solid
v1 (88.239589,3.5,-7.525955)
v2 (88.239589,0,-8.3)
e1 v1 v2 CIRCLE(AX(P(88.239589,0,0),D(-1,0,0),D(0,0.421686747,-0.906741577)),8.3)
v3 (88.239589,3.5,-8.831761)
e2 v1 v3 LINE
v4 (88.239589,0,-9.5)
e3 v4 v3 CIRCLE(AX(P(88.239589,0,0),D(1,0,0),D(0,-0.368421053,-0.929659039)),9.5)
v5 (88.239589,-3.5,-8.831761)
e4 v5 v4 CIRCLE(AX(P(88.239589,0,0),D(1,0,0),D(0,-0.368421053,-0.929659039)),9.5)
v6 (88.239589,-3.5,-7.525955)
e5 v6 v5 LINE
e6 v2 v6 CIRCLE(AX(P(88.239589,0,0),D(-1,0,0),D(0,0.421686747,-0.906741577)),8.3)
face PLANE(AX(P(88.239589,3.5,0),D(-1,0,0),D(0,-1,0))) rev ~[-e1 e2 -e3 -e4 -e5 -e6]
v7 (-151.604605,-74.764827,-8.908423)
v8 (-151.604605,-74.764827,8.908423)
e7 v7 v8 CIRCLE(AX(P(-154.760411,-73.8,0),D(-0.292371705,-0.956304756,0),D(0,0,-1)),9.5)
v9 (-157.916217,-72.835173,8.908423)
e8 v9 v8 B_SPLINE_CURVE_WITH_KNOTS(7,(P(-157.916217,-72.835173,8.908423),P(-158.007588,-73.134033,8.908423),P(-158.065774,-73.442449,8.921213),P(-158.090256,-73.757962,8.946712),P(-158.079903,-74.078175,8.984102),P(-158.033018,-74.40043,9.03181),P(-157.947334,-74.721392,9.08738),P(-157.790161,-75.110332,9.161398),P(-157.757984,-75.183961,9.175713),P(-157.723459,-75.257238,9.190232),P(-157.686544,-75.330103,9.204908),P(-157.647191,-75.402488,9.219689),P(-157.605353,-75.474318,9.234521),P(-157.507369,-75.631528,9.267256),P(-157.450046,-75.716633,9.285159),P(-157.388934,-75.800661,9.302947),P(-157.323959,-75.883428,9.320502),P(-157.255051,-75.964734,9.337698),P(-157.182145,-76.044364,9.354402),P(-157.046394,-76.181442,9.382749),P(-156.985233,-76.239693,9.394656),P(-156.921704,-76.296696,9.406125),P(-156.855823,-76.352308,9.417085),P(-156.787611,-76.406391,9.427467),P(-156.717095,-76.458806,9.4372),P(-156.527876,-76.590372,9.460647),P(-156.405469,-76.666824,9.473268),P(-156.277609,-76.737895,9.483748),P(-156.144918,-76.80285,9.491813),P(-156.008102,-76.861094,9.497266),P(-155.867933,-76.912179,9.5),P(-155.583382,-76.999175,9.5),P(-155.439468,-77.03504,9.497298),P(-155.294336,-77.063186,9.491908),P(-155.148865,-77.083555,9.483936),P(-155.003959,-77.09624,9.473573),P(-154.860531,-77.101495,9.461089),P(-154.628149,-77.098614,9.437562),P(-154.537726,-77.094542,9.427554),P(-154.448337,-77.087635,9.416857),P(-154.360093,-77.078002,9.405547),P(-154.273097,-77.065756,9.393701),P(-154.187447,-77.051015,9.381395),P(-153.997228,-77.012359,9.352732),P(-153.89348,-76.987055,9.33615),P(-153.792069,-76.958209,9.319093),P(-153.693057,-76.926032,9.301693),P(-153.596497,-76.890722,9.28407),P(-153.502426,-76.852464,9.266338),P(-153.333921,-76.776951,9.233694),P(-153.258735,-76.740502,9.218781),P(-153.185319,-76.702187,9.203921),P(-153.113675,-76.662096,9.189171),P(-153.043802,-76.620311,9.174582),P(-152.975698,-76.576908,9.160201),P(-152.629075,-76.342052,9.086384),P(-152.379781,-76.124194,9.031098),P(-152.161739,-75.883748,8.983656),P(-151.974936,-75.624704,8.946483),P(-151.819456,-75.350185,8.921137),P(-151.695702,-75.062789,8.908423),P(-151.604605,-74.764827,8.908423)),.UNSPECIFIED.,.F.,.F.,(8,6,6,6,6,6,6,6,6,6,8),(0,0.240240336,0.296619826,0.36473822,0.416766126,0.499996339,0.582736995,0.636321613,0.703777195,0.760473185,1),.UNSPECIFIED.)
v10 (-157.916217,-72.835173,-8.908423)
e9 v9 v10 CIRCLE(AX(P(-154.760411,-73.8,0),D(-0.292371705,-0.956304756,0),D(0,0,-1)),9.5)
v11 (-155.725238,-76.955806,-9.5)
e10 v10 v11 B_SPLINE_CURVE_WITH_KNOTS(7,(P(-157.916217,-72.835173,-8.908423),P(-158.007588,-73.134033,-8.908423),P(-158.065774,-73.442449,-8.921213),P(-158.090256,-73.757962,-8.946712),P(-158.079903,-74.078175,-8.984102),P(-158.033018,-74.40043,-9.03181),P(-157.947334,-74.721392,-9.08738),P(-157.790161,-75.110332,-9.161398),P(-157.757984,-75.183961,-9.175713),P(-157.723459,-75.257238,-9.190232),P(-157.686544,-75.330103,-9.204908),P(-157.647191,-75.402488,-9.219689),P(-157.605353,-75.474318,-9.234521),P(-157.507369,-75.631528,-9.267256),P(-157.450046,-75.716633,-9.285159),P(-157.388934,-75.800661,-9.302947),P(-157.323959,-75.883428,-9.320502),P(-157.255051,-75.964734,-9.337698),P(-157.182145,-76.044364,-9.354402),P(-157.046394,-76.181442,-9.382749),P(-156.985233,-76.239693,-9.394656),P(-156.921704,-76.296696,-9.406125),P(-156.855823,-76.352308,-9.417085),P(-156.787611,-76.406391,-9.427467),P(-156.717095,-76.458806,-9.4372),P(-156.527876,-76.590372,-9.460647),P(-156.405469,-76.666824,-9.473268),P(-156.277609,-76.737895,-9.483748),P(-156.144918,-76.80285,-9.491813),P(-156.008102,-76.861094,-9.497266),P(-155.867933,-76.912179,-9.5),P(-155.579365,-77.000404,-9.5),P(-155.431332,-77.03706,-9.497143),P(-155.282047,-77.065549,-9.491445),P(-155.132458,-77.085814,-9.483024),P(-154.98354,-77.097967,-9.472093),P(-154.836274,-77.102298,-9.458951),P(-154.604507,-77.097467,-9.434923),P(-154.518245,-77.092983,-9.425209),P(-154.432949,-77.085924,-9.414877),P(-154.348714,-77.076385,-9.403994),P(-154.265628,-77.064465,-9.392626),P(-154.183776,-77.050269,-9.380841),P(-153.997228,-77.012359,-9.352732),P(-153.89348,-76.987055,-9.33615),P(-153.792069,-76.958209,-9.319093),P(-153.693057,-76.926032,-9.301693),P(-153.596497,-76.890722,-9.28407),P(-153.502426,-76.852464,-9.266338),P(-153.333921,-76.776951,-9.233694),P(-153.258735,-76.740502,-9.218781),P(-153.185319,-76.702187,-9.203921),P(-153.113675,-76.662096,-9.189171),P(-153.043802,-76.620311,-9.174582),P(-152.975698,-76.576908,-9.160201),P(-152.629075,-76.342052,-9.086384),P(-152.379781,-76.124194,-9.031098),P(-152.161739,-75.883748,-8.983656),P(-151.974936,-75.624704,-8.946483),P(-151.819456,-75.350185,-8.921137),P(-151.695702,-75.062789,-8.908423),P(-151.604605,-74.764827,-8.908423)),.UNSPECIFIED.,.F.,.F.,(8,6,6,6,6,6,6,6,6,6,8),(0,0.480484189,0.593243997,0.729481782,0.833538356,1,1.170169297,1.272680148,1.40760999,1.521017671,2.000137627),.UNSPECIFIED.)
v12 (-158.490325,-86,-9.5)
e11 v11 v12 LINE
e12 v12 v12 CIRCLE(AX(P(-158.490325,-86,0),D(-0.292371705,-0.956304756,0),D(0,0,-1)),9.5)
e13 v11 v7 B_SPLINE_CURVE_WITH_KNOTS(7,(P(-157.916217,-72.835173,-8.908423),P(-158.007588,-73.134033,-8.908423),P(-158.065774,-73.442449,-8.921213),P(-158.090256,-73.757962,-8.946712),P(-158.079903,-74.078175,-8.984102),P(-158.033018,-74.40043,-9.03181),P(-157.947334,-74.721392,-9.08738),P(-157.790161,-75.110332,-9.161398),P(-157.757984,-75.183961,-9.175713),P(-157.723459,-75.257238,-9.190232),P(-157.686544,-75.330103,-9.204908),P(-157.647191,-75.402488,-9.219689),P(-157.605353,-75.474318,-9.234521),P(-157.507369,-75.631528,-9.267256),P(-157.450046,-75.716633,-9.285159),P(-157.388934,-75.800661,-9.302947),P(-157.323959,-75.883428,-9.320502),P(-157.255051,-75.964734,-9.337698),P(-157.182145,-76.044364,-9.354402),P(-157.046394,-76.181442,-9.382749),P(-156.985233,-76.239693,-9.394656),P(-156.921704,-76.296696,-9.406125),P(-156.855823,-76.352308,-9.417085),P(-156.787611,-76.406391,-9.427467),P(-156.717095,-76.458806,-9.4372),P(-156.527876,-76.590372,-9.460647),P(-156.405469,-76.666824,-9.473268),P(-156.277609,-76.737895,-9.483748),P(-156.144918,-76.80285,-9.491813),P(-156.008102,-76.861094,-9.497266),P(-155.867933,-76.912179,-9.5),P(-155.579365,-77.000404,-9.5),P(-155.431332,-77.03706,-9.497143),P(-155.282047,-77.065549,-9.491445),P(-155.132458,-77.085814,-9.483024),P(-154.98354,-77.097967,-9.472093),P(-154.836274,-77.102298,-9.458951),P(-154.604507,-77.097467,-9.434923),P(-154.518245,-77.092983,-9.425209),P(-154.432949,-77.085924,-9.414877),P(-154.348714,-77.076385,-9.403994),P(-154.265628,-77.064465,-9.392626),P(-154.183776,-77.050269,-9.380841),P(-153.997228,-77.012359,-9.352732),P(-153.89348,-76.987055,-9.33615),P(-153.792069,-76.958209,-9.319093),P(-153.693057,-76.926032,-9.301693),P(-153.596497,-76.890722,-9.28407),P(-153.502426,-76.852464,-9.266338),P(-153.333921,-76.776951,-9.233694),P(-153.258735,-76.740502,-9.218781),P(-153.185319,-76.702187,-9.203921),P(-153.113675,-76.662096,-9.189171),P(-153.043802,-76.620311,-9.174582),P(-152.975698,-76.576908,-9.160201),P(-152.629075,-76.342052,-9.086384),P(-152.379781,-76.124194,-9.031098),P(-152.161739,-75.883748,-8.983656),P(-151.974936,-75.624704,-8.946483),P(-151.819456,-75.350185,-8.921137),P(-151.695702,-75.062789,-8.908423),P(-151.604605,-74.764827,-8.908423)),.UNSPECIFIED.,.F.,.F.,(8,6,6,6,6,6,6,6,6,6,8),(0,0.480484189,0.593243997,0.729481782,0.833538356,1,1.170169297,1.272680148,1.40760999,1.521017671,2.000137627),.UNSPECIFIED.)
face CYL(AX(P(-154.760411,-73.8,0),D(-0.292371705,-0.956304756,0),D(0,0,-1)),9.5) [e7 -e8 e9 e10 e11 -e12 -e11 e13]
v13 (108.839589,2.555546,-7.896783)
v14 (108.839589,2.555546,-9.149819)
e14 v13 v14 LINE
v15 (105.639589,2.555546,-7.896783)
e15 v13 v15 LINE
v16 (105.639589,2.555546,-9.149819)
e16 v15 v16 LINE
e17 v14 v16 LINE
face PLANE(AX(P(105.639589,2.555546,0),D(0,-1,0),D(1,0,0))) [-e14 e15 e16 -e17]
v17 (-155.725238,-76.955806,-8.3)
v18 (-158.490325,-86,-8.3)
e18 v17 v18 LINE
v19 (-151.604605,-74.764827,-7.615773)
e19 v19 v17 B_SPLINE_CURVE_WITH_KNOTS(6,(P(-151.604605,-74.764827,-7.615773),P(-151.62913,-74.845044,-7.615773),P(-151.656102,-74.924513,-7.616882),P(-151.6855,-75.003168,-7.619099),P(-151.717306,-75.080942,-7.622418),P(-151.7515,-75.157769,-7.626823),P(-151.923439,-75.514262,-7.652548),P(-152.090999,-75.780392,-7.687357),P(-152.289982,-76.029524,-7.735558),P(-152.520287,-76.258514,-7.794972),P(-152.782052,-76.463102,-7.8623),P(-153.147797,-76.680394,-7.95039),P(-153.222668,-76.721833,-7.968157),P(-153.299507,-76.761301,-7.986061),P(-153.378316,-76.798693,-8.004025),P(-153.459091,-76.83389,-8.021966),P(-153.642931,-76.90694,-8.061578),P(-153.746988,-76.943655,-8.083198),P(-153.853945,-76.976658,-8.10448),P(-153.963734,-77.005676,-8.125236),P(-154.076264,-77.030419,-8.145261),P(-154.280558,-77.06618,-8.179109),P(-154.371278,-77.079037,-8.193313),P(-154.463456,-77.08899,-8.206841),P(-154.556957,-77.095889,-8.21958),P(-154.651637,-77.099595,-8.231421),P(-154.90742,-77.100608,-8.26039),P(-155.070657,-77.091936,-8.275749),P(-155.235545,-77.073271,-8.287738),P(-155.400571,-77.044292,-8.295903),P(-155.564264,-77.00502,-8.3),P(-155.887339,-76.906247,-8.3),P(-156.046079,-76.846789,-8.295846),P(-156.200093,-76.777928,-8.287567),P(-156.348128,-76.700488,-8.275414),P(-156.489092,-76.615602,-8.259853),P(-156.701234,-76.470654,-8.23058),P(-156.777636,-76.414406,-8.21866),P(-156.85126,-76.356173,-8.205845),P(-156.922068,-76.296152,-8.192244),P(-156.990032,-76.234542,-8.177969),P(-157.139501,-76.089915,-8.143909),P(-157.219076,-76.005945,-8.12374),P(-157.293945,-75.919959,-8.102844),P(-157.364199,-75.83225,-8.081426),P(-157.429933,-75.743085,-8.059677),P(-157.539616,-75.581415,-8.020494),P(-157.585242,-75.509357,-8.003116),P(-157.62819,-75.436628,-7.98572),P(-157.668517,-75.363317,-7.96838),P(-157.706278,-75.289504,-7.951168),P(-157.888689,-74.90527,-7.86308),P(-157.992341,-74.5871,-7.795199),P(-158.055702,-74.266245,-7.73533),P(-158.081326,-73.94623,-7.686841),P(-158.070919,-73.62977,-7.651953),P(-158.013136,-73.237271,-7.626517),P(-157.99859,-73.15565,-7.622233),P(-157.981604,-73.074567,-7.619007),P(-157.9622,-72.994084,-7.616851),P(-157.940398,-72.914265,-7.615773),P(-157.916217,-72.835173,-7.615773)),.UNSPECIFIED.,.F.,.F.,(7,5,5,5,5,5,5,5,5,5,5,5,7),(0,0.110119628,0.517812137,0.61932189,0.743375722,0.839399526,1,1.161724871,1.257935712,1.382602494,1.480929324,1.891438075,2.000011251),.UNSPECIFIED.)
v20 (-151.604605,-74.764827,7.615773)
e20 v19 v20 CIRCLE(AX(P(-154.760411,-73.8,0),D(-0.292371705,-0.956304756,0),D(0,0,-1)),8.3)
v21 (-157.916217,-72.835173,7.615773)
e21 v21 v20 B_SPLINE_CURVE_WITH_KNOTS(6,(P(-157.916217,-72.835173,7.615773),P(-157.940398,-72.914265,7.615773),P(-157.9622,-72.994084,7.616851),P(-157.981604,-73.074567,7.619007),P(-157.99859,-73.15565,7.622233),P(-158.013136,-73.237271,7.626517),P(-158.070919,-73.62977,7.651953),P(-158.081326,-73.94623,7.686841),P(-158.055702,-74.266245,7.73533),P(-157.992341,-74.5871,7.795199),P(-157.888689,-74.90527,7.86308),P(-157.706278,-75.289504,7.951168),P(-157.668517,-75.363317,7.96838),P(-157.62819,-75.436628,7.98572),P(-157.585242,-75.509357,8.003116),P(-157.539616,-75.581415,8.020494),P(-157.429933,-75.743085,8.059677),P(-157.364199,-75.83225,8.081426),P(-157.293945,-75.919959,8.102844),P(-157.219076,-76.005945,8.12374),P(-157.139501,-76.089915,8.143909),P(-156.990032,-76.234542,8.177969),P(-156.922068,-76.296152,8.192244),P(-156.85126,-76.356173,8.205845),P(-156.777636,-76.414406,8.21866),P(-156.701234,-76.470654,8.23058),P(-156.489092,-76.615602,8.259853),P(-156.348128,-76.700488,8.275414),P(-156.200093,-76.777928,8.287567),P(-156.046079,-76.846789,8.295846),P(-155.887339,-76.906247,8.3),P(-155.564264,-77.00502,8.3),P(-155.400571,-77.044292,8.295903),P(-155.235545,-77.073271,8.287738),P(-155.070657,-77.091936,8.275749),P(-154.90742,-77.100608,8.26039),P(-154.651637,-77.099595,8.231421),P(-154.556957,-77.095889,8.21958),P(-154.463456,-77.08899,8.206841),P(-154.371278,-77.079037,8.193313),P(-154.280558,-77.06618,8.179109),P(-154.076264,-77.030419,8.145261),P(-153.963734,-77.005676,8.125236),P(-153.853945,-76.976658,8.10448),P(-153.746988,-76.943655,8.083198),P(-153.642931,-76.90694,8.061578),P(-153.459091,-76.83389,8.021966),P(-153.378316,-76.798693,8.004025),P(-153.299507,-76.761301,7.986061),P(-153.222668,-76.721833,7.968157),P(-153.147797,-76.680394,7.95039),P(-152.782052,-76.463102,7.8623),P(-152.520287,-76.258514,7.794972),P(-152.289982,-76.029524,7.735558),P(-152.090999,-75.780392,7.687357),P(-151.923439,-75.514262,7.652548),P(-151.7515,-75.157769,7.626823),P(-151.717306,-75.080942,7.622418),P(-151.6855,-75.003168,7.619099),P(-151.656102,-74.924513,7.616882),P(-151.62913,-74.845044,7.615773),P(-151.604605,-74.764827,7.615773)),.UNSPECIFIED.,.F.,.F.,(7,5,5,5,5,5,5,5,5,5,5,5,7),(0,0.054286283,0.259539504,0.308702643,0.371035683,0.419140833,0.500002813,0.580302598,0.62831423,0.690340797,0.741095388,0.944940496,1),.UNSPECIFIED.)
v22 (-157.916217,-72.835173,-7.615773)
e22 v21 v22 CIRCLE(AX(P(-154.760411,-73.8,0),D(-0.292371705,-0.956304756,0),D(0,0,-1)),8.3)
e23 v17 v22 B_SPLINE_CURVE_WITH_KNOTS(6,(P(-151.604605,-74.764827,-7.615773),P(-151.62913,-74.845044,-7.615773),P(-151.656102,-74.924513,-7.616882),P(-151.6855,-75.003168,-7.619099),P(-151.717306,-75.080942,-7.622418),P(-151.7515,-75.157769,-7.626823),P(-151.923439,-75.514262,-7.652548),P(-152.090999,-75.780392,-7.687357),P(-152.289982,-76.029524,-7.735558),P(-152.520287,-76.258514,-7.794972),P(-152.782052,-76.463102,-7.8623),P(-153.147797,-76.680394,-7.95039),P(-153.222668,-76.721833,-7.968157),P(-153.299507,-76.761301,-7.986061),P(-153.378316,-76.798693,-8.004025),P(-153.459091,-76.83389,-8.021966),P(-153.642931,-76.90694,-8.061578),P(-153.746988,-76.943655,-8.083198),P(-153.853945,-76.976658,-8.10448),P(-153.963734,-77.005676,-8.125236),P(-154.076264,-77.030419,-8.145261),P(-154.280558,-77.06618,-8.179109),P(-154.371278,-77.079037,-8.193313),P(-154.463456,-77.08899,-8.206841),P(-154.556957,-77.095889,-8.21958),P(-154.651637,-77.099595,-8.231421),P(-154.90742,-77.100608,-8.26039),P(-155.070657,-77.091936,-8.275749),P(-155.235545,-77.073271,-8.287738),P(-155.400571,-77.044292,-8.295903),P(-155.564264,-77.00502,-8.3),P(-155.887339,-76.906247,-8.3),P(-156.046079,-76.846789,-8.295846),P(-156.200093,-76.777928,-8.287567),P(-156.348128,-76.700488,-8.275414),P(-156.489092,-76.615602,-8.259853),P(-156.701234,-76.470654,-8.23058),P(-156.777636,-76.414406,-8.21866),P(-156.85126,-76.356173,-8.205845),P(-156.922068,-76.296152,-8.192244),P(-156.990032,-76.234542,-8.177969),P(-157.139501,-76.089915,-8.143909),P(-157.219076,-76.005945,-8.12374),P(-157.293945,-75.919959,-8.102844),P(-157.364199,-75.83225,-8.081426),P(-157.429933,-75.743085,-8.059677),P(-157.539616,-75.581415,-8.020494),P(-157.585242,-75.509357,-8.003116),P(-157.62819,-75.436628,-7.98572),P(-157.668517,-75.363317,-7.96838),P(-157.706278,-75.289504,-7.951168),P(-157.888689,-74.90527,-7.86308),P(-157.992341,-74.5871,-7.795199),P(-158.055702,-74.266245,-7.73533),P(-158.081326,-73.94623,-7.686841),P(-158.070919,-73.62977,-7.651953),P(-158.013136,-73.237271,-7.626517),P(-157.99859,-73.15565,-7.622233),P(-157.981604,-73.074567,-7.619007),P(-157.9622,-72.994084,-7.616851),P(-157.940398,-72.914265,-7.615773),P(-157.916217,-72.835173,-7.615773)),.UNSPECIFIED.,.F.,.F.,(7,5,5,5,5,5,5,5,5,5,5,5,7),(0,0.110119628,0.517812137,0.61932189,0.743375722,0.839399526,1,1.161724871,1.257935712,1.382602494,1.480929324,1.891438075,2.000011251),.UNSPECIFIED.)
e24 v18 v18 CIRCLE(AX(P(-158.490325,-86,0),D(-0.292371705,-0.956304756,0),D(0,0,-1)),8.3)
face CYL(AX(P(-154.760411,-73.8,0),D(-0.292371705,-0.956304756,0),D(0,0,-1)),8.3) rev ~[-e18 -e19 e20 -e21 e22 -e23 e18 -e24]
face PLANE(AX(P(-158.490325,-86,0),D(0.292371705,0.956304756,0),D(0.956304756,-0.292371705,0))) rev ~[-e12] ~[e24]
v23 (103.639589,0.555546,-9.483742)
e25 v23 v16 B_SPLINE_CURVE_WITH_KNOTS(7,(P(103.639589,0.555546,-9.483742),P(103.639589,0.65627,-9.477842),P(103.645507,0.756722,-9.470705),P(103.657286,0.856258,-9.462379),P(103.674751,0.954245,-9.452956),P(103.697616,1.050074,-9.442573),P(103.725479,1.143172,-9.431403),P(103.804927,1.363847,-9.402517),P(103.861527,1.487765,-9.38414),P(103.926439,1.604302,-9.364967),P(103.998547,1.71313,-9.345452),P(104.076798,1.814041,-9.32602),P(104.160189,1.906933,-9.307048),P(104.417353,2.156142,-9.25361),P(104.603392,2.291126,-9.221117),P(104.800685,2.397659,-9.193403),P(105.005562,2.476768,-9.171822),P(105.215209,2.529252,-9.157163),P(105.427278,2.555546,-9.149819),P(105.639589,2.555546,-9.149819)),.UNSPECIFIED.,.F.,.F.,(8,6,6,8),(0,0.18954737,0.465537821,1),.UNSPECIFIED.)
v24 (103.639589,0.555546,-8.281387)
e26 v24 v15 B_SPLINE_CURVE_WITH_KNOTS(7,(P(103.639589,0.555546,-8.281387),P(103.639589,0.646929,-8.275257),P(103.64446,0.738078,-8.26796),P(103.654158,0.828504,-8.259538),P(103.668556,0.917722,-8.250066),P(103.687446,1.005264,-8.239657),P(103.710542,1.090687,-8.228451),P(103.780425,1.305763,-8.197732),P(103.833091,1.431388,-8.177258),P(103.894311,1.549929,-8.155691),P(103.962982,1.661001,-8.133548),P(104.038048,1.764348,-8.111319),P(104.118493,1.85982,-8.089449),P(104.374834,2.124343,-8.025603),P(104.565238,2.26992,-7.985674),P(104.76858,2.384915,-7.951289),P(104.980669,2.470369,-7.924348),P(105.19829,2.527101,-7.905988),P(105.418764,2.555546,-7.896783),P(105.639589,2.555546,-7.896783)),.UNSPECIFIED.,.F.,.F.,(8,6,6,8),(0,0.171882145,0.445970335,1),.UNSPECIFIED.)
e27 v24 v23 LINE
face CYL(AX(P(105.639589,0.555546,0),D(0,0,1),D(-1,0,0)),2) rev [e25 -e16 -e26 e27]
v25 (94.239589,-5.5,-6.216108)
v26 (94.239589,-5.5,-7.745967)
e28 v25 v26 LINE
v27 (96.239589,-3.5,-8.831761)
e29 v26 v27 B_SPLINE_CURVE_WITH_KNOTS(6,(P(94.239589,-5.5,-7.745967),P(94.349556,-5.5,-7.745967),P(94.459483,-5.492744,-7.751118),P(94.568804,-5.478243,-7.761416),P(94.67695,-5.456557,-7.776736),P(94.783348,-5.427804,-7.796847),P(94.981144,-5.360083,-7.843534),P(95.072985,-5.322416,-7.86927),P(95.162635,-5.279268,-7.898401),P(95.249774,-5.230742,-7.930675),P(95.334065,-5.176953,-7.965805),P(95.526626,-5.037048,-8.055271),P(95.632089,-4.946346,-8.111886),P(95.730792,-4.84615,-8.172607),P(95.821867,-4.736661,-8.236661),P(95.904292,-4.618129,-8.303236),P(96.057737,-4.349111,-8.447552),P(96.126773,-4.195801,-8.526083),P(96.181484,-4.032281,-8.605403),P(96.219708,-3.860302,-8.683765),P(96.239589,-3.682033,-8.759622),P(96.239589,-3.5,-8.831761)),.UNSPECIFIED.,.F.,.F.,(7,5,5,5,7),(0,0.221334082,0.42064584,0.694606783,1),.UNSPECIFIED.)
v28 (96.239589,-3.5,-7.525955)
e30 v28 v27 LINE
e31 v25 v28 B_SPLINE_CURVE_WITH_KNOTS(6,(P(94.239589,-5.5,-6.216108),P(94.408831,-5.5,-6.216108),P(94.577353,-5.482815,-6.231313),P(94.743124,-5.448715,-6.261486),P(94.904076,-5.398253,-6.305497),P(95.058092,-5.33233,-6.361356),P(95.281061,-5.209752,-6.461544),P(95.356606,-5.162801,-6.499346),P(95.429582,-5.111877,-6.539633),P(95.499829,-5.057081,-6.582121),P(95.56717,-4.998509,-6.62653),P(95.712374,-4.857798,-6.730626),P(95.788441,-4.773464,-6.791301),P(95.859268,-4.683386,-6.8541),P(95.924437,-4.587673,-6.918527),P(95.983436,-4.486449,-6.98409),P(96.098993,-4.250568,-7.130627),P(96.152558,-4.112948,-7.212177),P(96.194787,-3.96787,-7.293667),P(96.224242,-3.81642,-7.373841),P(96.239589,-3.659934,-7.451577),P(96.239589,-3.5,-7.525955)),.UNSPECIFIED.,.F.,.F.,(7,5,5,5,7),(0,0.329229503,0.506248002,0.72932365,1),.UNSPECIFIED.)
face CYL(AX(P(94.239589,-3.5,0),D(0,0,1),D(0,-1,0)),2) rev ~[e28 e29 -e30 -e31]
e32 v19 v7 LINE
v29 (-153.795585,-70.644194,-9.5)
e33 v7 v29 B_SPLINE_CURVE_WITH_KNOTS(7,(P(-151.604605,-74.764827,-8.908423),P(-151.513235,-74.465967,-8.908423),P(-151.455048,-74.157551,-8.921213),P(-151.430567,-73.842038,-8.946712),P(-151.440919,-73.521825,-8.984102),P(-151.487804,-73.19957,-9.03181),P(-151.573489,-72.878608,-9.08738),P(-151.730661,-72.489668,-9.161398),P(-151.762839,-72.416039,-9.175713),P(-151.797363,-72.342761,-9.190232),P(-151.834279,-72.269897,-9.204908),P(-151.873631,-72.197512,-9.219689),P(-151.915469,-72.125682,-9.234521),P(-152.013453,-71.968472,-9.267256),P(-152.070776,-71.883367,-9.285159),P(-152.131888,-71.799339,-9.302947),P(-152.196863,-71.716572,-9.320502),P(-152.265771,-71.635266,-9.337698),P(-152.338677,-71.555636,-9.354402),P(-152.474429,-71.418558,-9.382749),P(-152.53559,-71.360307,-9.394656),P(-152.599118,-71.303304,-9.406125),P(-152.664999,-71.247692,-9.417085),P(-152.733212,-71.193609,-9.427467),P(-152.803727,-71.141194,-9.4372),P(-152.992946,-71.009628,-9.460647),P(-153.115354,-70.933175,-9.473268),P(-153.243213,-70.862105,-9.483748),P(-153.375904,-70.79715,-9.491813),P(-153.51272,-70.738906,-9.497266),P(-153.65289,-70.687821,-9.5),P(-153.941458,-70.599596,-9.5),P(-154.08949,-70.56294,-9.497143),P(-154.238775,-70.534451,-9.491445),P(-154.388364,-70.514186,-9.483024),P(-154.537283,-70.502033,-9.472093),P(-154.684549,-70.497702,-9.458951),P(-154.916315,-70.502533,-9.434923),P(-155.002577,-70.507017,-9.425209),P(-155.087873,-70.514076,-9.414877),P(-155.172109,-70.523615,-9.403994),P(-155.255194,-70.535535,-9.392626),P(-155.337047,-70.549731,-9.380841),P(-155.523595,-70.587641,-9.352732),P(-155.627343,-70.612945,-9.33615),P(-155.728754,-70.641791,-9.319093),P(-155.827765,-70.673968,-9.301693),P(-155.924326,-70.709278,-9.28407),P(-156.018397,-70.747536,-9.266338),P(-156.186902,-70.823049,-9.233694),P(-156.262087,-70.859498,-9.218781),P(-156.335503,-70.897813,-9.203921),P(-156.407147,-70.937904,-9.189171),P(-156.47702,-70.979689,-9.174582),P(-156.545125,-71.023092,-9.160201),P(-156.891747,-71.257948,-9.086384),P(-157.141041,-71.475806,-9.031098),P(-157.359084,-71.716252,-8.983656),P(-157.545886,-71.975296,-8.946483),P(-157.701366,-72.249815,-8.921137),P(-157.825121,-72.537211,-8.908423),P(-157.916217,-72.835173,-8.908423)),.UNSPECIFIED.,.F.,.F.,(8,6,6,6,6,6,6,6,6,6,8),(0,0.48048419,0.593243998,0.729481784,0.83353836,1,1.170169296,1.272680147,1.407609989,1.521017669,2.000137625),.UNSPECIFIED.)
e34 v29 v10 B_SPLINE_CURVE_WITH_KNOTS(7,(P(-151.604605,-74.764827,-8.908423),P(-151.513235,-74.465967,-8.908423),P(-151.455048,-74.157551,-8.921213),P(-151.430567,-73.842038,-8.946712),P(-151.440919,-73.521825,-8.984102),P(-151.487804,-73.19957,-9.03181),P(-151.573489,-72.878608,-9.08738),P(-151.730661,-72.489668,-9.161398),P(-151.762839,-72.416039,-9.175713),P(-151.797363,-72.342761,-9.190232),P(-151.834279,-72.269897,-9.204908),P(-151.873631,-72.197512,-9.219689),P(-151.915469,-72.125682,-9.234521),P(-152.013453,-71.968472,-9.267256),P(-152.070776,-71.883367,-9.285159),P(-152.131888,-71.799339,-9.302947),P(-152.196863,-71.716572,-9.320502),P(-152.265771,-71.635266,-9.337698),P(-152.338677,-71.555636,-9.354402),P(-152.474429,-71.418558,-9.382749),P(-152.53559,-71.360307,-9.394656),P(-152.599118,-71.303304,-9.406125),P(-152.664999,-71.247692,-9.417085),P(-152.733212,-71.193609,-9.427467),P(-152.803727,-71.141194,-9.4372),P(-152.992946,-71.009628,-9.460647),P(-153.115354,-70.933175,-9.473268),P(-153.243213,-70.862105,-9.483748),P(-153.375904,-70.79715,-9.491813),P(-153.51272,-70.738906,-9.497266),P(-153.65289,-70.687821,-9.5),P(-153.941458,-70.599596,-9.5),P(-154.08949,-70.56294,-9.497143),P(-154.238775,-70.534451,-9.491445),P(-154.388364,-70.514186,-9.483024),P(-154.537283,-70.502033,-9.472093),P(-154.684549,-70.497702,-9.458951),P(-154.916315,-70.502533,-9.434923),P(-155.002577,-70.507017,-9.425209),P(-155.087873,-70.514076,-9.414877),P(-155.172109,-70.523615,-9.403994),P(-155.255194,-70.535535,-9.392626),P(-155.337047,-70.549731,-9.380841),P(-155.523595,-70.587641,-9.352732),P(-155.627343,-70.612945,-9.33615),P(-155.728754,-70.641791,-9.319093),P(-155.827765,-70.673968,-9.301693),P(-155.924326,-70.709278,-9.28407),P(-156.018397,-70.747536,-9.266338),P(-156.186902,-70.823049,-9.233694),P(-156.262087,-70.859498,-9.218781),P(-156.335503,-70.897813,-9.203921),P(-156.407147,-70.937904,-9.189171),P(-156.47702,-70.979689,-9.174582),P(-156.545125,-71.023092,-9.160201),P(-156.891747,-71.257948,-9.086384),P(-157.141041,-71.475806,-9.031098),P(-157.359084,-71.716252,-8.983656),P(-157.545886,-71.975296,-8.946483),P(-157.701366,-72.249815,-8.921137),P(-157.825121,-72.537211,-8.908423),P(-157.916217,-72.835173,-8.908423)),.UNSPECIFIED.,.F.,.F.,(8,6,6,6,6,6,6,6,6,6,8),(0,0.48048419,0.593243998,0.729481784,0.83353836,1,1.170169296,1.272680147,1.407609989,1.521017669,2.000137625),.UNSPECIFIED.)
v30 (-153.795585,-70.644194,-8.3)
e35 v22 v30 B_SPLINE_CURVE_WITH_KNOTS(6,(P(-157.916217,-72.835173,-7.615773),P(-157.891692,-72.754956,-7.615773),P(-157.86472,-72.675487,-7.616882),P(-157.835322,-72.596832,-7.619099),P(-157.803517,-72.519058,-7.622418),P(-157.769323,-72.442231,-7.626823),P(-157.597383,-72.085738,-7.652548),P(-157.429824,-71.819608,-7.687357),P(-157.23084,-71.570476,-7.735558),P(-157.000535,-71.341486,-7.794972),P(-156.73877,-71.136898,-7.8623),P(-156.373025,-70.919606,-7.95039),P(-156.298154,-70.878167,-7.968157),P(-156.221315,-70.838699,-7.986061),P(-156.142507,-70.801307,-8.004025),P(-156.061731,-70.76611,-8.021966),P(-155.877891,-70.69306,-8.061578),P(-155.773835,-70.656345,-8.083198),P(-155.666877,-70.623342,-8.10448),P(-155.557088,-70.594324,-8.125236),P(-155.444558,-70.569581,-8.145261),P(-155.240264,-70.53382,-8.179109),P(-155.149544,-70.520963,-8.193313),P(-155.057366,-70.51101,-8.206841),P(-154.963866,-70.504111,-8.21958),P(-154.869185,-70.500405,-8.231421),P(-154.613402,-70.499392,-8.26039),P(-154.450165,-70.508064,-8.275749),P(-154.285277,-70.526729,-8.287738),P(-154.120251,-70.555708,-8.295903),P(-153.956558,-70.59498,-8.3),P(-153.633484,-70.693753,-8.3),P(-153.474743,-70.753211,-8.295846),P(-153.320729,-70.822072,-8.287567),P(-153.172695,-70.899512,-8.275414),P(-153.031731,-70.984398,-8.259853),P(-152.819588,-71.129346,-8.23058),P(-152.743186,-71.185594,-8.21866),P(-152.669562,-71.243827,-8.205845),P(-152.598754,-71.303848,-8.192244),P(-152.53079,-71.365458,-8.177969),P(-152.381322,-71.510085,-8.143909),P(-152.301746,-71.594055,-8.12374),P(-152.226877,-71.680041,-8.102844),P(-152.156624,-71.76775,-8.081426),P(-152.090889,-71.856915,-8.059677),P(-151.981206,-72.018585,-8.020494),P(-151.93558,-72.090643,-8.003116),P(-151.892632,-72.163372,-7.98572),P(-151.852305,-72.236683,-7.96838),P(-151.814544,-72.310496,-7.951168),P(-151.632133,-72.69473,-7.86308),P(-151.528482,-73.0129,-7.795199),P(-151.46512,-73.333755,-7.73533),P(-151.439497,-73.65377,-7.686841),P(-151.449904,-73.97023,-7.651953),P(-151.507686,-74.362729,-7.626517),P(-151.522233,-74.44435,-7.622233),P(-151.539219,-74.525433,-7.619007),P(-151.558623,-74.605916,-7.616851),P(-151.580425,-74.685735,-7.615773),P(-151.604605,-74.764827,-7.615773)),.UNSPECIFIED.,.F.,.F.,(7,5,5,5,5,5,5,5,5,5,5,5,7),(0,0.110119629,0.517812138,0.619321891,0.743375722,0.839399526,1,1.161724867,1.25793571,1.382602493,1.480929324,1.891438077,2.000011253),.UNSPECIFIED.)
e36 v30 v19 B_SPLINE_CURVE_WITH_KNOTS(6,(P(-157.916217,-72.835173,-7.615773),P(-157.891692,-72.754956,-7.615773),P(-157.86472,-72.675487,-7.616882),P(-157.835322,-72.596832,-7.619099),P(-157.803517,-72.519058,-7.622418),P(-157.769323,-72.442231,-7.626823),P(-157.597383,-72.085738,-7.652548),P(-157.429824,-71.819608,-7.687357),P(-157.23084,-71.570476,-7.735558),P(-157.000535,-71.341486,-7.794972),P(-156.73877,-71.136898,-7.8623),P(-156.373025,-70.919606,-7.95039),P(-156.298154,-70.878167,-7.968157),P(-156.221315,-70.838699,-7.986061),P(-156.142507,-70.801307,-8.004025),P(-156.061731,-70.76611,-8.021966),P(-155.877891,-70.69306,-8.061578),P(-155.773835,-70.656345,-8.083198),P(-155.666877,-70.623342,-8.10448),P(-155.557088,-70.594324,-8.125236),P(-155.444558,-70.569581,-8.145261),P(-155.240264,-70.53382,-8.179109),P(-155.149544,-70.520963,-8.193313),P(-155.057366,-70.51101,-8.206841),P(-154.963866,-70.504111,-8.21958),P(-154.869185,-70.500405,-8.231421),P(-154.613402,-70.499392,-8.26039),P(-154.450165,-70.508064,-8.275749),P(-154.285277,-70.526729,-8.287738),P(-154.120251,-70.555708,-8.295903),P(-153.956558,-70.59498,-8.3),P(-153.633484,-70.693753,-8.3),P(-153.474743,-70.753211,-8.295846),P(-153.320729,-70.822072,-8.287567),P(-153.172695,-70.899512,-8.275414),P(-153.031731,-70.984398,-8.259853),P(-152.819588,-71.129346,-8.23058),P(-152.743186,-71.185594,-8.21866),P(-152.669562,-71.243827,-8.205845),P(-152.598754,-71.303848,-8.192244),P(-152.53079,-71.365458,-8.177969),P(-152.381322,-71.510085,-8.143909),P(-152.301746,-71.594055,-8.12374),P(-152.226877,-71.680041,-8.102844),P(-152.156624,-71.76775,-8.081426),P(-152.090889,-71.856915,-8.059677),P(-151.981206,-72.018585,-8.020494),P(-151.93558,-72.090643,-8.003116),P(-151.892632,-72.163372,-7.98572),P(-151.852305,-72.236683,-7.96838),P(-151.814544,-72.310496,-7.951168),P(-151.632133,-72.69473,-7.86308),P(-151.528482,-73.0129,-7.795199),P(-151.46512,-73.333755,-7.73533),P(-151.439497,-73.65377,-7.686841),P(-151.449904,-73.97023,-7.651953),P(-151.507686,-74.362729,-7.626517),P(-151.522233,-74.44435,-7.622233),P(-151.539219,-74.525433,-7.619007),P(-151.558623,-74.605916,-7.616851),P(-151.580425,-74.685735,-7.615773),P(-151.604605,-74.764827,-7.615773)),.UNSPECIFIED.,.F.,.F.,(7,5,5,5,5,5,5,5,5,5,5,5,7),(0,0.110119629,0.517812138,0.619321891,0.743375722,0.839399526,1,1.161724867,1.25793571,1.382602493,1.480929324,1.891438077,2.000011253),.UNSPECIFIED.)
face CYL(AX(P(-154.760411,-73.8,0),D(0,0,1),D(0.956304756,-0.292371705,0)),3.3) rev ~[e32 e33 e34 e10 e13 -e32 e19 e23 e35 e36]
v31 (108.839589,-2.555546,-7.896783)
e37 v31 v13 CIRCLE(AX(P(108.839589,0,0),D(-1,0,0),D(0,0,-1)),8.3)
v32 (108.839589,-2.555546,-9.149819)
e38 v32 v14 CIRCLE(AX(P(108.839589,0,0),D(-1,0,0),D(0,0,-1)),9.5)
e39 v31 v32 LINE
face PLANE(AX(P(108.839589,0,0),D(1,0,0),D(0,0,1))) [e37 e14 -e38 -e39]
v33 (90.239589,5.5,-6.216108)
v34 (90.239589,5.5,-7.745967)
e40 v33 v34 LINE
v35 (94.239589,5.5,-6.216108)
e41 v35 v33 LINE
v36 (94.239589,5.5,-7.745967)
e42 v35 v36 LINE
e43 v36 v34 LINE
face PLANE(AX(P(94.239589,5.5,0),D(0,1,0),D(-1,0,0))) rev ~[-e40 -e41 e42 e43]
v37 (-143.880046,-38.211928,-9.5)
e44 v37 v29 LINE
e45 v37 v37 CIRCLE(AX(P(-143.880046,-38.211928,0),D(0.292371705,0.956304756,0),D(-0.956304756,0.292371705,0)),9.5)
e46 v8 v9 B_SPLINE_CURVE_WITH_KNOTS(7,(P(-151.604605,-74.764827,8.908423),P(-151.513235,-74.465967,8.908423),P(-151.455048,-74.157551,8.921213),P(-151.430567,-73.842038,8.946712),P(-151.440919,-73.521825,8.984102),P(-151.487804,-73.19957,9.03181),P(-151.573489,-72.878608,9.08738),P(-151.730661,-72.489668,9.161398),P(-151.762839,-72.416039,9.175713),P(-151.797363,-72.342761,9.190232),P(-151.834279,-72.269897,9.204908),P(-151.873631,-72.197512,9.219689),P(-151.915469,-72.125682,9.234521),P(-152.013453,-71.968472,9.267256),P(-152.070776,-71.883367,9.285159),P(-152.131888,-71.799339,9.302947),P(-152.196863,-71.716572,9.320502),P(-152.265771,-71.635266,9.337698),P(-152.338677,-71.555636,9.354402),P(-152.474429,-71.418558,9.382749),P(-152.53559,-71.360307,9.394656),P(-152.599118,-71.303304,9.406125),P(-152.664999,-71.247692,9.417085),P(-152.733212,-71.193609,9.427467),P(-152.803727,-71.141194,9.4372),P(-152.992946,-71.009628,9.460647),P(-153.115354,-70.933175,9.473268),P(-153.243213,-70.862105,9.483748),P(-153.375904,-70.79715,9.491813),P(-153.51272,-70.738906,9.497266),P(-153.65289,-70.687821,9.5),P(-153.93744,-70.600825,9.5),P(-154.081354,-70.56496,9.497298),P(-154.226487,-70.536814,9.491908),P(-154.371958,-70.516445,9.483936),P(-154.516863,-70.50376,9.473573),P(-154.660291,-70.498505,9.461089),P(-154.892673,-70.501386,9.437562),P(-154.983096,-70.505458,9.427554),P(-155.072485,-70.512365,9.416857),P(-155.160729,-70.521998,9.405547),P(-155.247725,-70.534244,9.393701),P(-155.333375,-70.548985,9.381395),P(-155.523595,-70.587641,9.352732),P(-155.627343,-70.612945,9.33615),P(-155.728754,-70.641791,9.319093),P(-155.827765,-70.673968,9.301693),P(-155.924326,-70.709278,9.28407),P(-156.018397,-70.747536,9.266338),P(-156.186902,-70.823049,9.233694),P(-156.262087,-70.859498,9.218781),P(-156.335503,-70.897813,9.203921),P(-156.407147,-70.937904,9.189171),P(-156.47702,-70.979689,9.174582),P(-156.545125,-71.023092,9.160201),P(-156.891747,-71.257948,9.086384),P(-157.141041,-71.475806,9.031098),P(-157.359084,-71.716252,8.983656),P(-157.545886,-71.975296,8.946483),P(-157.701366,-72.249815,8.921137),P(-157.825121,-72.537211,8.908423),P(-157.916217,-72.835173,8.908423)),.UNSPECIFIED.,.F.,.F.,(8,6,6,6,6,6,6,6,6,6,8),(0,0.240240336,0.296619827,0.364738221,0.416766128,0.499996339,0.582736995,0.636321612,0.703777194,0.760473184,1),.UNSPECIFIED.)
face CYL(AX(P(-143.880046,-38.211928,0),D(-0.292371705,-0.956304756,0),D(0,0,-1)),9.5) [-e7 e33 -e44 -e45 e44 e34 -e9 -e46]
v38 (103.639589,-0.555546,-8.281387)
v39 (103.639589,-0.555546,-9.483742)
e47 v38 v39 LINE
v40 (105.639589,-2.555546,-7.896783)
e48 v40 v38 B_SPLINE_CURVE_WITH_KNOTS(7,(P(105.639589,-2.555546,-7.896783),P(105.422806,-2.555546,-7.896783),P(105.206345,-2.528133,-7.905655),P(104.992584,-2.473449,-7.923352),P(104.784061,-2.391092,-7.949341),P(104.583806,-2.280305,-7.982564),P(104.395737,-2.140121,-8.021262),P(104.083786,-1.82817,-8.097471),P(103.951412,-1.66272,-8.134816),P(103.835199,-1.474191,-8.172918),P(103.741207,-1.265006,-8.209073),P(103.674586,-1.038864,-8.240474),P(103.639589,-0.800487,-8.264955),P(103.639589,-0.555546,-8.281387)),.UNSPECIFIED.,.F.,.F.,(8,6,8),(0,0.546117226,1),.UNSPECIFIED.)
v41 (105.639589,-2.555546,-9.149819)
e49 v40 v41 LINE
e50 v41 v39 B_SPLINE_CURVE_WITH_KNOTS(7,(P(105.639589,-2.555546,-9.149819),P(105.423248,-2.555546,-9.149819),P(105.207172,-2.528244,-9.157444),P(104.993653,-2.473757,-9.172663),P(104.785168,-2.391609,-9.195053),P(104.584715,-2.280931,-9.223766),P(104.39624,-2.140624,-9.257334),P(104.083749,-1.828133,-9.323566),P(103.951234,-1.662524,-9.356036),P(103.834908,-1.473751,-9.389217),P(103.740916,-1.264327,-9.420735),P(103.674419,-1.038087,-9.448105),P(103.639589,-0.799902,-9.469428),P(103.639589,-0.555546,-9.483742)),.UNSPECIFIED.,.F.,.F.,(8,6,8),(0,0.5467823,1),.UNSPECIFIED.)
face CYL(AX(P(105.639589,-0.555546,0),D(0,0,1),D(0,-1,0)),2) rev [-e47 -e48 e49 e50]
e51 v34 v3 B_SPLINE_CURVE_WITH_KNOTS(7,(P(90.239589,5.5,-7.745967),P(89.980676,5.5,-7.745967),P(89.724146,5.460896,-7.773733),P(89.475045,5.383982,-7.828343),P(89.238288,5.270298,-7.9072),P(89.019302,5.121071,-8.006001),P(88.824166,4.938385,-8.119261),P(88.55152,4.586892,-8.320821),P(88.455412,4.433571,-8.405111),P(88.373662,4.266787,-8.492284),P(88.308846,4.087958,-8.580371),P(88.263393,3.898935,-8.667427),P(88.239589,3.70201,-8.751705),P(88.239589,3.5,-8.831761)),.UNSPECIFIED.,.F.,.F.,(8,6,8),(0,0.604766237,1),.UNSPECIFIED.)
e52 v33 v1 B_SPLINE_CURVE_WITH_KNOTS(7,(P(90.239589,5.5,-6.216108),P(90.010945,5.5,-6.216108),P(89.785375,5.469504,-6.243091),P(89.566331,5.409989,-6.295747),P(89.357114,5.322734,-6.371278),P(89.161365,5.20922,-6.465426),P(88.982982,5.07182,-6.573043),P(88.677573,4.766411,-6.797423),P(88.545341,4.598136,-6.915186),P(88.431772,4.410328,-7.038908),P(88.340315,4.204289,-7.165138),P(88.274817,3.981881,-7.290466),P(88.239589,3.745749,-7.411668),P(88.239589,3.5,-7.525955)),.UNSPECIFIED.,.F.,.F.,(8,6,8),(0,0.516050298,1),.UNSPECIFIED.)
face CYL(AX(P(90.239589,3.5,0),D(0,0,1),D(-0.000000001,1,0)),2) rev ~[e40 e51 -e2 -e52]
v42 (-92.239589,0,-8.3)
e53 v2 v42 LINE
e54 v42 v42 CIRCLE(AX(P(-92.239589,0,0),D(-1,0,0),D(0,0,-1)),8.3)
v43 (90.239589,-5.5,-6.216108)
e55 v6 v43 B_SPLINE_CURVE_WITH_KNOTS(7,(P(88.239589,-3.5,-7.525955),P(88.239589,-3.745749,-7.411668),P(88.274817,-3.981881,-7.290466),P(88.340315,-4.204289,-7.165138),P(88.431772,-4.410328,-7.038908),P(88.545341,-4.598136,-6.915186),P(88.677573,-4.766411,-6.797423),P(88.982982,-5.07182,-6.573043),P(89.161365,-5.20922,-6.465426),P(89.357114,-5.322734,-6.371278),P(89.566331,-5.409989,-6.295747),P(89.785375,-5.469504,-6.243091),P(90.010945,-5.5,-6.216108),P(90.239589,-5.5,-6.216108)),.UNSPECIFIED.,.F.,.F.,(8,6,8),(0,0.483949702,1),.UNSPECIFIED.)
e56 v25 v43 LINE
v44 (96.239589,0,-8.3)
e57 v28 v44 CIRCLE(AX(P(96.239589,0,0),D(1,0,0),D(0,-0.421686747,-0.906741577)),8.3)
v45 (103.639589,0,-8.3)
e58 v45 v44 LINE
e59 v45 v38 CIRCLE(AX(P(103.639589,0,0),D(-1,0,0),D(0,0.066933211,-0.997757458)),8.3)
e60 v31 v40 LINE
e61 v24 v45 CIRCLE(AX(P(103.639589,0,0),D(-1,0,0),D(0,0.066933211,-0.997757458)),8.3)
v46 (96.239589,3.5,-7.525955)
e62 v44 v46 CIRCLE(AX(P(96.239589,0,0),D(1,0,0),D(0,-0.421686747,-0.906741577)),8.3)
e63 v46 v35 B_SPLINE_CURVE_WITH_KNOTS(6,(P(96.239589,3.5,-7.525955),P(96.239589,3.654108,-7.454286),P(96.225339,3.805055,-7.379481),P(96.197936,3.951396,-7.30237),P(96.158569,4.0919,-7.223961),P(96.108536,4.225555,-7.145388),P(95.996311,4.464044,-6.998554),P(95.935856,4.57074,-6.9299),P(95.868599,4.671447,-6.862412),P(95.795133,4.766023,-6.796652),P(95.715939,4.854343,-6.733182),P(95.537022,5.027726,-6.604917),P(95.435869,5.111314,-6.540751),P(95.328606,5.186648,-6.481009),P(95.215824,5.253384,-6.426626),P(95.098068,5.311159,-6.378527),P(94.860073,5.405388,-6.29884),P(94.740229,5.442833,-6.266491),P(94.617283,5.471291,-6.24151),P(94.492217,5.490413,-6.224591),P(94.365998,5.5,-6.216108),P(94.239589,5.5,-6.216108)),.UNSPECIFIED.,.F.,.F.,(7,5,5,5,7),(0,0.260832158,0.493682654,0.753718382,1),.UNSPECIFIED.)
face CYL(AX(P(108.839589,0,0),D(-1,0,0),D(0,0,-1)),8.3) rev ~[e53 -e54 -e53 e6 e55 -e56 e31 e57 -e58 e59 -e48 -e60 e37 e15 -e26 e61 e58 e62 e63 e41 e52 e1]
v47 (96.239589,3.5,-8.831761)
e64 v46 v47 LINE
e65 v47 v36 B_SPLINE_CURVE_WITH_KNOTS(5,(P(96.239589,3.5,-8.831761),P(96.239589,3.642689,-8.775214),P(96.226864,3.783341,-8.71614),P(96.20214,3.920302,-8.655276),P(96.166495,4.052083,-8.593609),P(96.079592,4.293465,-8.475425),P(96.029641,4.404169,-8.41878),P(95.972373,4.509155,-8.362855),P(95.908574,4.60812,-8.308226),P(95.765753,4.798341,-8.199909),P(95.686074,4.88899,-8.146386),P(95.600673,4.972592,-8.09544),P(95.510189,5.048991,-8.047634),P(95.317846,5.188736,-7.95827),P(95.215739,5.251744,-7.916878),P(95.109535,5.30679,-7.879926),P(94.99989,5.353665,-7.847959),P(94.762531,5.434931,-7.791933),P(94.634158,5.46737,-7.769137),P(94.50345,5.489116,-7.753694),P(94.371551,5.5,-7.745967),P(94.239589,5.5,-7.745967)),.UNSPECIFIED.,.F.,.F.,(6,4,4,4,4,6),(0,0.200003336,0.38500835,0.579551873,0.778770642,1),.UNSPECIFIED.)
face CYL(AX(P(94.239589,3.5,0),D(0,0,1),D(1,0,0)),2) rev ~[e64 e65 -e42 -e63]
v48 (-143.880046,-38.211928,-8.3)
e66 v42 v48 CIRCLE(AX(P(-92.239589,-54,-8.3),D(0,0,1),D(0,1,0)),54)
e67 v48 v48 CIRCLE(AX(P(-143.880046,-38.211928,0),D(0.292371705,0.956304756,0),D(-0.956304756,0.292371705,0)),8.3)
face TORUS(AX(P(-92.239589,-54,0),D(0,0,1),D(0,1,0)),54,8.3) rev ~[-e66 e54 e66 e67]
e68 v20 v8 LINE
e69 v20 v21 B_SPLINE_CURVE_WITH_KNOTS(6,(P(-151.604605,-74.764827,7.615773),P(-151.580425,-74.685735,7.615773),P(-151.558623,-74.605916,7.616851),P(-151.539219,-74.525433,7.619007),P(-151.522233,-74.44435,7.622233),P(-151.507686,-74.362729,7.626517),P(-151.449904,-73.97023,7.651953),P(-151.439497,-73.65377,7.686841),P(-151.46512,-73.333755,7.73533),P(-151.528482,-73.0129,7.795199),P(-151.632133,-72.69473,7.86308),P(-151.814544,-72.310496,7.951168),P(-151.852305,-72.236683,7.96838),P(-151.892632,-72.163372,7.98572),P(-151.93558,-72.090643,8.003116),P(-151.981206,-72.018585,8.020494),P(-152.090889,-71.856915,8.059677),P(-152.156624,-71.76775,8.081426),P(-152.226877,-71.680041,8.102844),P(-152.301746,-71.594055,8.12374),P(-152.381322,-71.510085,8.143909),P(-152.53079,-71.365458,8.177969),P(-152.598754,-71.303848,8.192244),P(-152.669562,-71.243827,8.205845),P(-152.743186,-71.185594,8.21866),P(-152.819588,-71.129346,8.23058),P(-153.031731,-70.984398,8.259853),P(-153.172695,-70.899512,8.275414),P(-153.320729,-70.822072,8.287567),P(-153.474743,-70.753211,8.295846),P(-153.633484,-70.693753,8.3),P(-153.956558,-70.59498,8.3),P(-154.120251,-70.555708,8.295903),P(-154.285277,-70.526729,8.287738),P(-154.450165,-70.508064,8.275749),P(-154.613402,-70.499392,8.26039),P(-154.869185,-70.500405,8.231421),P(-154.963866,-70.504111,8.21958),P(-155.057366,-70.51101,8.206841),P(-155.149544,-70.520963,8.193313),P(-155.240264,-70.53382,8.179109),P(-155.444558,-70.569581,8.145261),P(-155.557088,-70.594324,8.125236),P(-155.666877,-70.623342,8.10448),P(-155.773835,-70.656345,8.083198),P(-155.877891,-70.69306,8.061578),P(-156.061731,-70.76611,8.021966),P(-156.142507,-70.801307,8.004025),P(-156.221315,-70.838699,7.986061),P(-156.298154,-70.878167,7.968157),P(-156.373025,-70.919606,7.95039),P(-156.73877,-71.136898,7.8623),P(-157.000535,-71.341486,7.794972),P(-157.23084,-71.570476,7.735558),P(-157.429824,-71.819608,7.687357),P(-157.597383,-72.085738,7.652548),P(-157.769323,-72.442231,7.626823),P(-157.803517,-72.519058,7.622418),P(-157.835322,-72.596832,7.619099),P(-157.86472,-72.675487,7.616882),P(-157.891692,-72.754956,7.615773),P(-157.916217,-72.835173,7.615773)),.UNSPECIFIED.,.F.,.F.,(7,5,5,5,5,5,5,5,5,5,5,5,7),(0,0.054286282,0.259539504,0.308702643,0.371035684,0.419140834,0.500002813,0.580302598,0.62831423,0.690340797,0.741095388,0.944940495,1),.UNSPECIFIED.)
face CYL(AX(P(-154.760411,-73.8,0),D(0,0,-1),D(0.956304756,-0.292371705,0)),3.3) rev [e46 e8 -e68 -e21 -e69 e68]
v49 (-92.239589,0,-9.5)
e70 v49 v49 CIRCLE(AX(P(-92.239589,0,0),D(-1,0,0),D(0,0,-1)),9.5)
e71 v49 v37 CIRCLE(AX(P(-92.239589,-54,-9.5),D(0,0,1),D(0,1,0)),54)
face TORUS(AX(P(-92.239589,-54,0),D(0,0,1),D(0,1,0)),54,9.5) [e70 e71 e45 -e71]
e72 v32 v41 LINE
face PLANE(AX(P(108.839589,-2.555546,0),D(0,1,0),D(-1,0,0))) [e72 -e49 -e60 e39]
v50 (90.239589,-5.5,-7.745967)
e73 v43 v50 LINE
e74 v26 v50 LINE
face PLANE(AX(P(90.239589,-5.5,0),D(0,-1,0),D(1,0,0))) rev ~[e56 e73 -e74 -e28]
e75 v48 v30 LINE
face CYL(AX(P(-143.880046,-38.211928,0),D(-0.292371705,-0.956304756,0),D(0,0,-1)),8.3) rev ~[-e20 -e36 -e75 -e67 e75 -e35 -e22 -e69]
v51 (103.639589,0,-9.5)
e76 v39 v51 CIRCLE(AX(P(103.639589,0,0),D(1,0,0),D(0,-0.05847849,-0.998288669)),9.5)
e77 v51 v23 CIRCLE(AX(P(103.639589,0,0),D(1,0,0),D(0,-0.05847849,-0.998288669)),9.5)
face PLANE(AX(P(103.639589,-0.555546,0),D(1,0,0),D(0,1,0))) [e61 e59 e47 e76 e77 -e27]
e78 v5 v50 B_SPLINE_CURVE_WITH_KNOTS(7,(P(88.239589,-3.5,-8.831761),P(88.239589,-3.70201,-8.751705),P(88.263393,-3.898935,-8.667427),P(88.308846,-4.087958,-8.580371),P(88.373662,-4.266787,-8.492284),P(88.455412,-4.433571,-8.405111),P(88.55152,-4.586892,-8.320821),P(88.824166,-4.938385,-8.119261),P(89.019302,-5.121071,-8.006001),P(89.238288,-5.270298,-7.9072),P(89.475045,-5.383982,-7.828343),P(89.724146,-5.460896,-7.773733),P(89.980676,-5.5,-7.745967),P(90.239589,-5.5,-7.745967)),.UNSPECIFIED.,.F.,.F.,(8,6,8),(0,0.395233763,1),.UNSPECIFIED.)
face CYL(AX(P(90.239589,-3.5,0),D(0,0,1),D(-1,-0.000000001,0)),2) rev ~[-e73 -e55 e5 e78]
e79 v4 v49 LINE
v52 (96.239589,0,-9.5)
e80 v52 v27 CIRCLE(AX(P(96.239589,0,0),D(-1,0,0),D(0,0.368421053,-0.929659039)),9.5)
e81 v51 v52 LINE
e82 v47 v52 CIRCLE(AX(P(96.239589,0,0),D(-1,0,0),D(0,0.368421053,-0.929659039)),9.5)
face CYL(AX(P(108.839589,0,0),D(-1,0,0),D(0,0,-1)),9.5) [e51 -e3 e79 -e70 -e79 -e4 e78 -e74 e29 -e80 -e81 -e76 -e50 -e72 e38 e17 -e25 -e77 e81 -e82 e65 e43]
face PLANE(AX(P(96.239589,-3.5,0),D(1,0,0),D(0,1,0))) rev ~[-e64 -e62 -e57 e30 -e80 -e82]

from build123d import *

# Parameters (mm, degrees)
SKETCH3_R          = 9.5
SKETCH3_R_2        = 8.3
CUT_EXTRUDE1_REACH = 191.877
SKETCH4_R          = 3.3
SKETCH5_R          = 3.3
CUT_EXTRUDE2_DEPTH = 190.876682823


with BuildPart() as part:
    # Sweep2: sweep along a path in Sketch1
    with BuildLine(Plane.XY) as sweep2_path:
        Line((108.839588828, 0), (92.239588828, 0))
        Line((92.239588828, 0), (-92.239588828, 0))
        ThreePointArc((-92.239588828, 0), (-124.360019313, -10.591729527), (-143.88004565, -38.211927945))
        Line((-143.88004565, -38.211927945), (-154.760411172, -73.8))
        Line((-154.760411172, -73.8), (-158.490325485, -86))
    # Sketch3 → Sweep2 (sweep)
    with BuildSketch(Plane(origin=(92.239588828, 0, 0), x_dir=(0, 0, -1), z_dir=(1, 0, 0))):
        Circle(SKETCH3_R)
        Circle(SKETCH3_R_2, mode=Mode.SUBTRACT)
    sweep(path=sweep2_path.line)

    # Sketch4 → Cut-Extrude1 (cut, up to next)
    with BuildSketch(Plane.XY, mode=Mode.PRIVATE) as cut_extrude1_sk1:
        with Locations((-154.760411172, -73.8)):
            Circle(SKETCH4_R)
    cut_extrude1_tool1 = extrude(cut_extrude1_sk1.sketch, amount=-CUT_EXTRUDE1_REACH, mode=Mode.PRIVATE) & part.part
    # Sketch4 → Cut-Extrude1 (cut, up to next)
    with BuildSketch(Plane.XY, mode=Mode.PRIVATE) as cut_extrude1_sk2:
        with BuildLine():
            Line((108.839588828, 2.555545653), (108.839588828, -2.555545653))
            Line((108.839588828, -2.555545653), (105.639588828, -2.555545653))
            ThreePointArc((105.639588828, -2.555545653), (104.225375266, -1.969759216), (103.639588828, -0.555545653))
            Line((103.639588828, -0.555545653), (103.639588828, 0.555545653))
            ThreePointArc((103.639588828, 0.555545653), (104.225375266, 1.969759216), (105.639588828, 2.555545653))
            Line((105.639588828, 2.555545653), (108.839588828, 2.555545653))
        make_face()
    cut_extrude1_tool2 = extrude(cut_extrude1_sk2.sketch, amount=-CUT_EXTRUDE1_REACH, mode=Mode.PRIVATE) & part.part
    # Sketch4 → Cut-Extrude1 (cut, up to next)
    with BuildSketch(Plane.XY, mode=Mode.PRIVATE) as cut_extrude1_sk3:
        with BuildLine():
            Line((90.239588828, -5.5), (94.239588828, -5.5))
            ThreePointArc((94.239588828, -5.5), (95.653802391, -4.914213562), (96.239588828, -3.5))
            Line((96.239588828, -3.5), (96.239588828, 3.5))
            ThreePointArc((96.239588828, 3.5), (95.653802391, 4.914213562), (94.239588828, 5.5))
            Line((94.239588828, 5.5), (90.239588828, 5.5))
            ThreePointArc((90.239588828, 5.5), (88.825375266, 4.914213562), (88.239588828, 3.5))
            Line((88.239588828, 3.5), (88.239588828, -3.5))
            ThreePointArc((88.239588828, -3.5), (88.825375266, -4.914213562), (90.239588828, -5.5))
        make_face()
    cut_extrude1_tool3 = extrude(cut_extrude1_sk3.sketch, amount=-CUT_EXTRUDE1_REACH, mode=Mode.PRIVATE) & part.part
    add(cut_extrude1_tool1.solids().sort_by_distance((-154.760411, -73.8, 0))[0], mode=Mode.SUBTRACT)
    add(cut_extrude1_tool2.solids().sort_by_distance((106.388287, 0, 0))[0], mode=Mode.SUBTRACT)
    add(cut_extrude1_tool3.solids().sort_by_distance((92.239589, 0, 0))[0], mode=Mode.SUBTRACT)

    # Sketch5 → Cut-Extrude2 (cut, through all)
    with BuildSketch(Plane.XY):
        with Locations((-154.760411172, -73.8)):
            Circle(SKETCH5_R)
    extrude(amount=CUT_EXTRUDE2_DEPTH, mode=Mode.SUBTRACT)


solid = part.part
